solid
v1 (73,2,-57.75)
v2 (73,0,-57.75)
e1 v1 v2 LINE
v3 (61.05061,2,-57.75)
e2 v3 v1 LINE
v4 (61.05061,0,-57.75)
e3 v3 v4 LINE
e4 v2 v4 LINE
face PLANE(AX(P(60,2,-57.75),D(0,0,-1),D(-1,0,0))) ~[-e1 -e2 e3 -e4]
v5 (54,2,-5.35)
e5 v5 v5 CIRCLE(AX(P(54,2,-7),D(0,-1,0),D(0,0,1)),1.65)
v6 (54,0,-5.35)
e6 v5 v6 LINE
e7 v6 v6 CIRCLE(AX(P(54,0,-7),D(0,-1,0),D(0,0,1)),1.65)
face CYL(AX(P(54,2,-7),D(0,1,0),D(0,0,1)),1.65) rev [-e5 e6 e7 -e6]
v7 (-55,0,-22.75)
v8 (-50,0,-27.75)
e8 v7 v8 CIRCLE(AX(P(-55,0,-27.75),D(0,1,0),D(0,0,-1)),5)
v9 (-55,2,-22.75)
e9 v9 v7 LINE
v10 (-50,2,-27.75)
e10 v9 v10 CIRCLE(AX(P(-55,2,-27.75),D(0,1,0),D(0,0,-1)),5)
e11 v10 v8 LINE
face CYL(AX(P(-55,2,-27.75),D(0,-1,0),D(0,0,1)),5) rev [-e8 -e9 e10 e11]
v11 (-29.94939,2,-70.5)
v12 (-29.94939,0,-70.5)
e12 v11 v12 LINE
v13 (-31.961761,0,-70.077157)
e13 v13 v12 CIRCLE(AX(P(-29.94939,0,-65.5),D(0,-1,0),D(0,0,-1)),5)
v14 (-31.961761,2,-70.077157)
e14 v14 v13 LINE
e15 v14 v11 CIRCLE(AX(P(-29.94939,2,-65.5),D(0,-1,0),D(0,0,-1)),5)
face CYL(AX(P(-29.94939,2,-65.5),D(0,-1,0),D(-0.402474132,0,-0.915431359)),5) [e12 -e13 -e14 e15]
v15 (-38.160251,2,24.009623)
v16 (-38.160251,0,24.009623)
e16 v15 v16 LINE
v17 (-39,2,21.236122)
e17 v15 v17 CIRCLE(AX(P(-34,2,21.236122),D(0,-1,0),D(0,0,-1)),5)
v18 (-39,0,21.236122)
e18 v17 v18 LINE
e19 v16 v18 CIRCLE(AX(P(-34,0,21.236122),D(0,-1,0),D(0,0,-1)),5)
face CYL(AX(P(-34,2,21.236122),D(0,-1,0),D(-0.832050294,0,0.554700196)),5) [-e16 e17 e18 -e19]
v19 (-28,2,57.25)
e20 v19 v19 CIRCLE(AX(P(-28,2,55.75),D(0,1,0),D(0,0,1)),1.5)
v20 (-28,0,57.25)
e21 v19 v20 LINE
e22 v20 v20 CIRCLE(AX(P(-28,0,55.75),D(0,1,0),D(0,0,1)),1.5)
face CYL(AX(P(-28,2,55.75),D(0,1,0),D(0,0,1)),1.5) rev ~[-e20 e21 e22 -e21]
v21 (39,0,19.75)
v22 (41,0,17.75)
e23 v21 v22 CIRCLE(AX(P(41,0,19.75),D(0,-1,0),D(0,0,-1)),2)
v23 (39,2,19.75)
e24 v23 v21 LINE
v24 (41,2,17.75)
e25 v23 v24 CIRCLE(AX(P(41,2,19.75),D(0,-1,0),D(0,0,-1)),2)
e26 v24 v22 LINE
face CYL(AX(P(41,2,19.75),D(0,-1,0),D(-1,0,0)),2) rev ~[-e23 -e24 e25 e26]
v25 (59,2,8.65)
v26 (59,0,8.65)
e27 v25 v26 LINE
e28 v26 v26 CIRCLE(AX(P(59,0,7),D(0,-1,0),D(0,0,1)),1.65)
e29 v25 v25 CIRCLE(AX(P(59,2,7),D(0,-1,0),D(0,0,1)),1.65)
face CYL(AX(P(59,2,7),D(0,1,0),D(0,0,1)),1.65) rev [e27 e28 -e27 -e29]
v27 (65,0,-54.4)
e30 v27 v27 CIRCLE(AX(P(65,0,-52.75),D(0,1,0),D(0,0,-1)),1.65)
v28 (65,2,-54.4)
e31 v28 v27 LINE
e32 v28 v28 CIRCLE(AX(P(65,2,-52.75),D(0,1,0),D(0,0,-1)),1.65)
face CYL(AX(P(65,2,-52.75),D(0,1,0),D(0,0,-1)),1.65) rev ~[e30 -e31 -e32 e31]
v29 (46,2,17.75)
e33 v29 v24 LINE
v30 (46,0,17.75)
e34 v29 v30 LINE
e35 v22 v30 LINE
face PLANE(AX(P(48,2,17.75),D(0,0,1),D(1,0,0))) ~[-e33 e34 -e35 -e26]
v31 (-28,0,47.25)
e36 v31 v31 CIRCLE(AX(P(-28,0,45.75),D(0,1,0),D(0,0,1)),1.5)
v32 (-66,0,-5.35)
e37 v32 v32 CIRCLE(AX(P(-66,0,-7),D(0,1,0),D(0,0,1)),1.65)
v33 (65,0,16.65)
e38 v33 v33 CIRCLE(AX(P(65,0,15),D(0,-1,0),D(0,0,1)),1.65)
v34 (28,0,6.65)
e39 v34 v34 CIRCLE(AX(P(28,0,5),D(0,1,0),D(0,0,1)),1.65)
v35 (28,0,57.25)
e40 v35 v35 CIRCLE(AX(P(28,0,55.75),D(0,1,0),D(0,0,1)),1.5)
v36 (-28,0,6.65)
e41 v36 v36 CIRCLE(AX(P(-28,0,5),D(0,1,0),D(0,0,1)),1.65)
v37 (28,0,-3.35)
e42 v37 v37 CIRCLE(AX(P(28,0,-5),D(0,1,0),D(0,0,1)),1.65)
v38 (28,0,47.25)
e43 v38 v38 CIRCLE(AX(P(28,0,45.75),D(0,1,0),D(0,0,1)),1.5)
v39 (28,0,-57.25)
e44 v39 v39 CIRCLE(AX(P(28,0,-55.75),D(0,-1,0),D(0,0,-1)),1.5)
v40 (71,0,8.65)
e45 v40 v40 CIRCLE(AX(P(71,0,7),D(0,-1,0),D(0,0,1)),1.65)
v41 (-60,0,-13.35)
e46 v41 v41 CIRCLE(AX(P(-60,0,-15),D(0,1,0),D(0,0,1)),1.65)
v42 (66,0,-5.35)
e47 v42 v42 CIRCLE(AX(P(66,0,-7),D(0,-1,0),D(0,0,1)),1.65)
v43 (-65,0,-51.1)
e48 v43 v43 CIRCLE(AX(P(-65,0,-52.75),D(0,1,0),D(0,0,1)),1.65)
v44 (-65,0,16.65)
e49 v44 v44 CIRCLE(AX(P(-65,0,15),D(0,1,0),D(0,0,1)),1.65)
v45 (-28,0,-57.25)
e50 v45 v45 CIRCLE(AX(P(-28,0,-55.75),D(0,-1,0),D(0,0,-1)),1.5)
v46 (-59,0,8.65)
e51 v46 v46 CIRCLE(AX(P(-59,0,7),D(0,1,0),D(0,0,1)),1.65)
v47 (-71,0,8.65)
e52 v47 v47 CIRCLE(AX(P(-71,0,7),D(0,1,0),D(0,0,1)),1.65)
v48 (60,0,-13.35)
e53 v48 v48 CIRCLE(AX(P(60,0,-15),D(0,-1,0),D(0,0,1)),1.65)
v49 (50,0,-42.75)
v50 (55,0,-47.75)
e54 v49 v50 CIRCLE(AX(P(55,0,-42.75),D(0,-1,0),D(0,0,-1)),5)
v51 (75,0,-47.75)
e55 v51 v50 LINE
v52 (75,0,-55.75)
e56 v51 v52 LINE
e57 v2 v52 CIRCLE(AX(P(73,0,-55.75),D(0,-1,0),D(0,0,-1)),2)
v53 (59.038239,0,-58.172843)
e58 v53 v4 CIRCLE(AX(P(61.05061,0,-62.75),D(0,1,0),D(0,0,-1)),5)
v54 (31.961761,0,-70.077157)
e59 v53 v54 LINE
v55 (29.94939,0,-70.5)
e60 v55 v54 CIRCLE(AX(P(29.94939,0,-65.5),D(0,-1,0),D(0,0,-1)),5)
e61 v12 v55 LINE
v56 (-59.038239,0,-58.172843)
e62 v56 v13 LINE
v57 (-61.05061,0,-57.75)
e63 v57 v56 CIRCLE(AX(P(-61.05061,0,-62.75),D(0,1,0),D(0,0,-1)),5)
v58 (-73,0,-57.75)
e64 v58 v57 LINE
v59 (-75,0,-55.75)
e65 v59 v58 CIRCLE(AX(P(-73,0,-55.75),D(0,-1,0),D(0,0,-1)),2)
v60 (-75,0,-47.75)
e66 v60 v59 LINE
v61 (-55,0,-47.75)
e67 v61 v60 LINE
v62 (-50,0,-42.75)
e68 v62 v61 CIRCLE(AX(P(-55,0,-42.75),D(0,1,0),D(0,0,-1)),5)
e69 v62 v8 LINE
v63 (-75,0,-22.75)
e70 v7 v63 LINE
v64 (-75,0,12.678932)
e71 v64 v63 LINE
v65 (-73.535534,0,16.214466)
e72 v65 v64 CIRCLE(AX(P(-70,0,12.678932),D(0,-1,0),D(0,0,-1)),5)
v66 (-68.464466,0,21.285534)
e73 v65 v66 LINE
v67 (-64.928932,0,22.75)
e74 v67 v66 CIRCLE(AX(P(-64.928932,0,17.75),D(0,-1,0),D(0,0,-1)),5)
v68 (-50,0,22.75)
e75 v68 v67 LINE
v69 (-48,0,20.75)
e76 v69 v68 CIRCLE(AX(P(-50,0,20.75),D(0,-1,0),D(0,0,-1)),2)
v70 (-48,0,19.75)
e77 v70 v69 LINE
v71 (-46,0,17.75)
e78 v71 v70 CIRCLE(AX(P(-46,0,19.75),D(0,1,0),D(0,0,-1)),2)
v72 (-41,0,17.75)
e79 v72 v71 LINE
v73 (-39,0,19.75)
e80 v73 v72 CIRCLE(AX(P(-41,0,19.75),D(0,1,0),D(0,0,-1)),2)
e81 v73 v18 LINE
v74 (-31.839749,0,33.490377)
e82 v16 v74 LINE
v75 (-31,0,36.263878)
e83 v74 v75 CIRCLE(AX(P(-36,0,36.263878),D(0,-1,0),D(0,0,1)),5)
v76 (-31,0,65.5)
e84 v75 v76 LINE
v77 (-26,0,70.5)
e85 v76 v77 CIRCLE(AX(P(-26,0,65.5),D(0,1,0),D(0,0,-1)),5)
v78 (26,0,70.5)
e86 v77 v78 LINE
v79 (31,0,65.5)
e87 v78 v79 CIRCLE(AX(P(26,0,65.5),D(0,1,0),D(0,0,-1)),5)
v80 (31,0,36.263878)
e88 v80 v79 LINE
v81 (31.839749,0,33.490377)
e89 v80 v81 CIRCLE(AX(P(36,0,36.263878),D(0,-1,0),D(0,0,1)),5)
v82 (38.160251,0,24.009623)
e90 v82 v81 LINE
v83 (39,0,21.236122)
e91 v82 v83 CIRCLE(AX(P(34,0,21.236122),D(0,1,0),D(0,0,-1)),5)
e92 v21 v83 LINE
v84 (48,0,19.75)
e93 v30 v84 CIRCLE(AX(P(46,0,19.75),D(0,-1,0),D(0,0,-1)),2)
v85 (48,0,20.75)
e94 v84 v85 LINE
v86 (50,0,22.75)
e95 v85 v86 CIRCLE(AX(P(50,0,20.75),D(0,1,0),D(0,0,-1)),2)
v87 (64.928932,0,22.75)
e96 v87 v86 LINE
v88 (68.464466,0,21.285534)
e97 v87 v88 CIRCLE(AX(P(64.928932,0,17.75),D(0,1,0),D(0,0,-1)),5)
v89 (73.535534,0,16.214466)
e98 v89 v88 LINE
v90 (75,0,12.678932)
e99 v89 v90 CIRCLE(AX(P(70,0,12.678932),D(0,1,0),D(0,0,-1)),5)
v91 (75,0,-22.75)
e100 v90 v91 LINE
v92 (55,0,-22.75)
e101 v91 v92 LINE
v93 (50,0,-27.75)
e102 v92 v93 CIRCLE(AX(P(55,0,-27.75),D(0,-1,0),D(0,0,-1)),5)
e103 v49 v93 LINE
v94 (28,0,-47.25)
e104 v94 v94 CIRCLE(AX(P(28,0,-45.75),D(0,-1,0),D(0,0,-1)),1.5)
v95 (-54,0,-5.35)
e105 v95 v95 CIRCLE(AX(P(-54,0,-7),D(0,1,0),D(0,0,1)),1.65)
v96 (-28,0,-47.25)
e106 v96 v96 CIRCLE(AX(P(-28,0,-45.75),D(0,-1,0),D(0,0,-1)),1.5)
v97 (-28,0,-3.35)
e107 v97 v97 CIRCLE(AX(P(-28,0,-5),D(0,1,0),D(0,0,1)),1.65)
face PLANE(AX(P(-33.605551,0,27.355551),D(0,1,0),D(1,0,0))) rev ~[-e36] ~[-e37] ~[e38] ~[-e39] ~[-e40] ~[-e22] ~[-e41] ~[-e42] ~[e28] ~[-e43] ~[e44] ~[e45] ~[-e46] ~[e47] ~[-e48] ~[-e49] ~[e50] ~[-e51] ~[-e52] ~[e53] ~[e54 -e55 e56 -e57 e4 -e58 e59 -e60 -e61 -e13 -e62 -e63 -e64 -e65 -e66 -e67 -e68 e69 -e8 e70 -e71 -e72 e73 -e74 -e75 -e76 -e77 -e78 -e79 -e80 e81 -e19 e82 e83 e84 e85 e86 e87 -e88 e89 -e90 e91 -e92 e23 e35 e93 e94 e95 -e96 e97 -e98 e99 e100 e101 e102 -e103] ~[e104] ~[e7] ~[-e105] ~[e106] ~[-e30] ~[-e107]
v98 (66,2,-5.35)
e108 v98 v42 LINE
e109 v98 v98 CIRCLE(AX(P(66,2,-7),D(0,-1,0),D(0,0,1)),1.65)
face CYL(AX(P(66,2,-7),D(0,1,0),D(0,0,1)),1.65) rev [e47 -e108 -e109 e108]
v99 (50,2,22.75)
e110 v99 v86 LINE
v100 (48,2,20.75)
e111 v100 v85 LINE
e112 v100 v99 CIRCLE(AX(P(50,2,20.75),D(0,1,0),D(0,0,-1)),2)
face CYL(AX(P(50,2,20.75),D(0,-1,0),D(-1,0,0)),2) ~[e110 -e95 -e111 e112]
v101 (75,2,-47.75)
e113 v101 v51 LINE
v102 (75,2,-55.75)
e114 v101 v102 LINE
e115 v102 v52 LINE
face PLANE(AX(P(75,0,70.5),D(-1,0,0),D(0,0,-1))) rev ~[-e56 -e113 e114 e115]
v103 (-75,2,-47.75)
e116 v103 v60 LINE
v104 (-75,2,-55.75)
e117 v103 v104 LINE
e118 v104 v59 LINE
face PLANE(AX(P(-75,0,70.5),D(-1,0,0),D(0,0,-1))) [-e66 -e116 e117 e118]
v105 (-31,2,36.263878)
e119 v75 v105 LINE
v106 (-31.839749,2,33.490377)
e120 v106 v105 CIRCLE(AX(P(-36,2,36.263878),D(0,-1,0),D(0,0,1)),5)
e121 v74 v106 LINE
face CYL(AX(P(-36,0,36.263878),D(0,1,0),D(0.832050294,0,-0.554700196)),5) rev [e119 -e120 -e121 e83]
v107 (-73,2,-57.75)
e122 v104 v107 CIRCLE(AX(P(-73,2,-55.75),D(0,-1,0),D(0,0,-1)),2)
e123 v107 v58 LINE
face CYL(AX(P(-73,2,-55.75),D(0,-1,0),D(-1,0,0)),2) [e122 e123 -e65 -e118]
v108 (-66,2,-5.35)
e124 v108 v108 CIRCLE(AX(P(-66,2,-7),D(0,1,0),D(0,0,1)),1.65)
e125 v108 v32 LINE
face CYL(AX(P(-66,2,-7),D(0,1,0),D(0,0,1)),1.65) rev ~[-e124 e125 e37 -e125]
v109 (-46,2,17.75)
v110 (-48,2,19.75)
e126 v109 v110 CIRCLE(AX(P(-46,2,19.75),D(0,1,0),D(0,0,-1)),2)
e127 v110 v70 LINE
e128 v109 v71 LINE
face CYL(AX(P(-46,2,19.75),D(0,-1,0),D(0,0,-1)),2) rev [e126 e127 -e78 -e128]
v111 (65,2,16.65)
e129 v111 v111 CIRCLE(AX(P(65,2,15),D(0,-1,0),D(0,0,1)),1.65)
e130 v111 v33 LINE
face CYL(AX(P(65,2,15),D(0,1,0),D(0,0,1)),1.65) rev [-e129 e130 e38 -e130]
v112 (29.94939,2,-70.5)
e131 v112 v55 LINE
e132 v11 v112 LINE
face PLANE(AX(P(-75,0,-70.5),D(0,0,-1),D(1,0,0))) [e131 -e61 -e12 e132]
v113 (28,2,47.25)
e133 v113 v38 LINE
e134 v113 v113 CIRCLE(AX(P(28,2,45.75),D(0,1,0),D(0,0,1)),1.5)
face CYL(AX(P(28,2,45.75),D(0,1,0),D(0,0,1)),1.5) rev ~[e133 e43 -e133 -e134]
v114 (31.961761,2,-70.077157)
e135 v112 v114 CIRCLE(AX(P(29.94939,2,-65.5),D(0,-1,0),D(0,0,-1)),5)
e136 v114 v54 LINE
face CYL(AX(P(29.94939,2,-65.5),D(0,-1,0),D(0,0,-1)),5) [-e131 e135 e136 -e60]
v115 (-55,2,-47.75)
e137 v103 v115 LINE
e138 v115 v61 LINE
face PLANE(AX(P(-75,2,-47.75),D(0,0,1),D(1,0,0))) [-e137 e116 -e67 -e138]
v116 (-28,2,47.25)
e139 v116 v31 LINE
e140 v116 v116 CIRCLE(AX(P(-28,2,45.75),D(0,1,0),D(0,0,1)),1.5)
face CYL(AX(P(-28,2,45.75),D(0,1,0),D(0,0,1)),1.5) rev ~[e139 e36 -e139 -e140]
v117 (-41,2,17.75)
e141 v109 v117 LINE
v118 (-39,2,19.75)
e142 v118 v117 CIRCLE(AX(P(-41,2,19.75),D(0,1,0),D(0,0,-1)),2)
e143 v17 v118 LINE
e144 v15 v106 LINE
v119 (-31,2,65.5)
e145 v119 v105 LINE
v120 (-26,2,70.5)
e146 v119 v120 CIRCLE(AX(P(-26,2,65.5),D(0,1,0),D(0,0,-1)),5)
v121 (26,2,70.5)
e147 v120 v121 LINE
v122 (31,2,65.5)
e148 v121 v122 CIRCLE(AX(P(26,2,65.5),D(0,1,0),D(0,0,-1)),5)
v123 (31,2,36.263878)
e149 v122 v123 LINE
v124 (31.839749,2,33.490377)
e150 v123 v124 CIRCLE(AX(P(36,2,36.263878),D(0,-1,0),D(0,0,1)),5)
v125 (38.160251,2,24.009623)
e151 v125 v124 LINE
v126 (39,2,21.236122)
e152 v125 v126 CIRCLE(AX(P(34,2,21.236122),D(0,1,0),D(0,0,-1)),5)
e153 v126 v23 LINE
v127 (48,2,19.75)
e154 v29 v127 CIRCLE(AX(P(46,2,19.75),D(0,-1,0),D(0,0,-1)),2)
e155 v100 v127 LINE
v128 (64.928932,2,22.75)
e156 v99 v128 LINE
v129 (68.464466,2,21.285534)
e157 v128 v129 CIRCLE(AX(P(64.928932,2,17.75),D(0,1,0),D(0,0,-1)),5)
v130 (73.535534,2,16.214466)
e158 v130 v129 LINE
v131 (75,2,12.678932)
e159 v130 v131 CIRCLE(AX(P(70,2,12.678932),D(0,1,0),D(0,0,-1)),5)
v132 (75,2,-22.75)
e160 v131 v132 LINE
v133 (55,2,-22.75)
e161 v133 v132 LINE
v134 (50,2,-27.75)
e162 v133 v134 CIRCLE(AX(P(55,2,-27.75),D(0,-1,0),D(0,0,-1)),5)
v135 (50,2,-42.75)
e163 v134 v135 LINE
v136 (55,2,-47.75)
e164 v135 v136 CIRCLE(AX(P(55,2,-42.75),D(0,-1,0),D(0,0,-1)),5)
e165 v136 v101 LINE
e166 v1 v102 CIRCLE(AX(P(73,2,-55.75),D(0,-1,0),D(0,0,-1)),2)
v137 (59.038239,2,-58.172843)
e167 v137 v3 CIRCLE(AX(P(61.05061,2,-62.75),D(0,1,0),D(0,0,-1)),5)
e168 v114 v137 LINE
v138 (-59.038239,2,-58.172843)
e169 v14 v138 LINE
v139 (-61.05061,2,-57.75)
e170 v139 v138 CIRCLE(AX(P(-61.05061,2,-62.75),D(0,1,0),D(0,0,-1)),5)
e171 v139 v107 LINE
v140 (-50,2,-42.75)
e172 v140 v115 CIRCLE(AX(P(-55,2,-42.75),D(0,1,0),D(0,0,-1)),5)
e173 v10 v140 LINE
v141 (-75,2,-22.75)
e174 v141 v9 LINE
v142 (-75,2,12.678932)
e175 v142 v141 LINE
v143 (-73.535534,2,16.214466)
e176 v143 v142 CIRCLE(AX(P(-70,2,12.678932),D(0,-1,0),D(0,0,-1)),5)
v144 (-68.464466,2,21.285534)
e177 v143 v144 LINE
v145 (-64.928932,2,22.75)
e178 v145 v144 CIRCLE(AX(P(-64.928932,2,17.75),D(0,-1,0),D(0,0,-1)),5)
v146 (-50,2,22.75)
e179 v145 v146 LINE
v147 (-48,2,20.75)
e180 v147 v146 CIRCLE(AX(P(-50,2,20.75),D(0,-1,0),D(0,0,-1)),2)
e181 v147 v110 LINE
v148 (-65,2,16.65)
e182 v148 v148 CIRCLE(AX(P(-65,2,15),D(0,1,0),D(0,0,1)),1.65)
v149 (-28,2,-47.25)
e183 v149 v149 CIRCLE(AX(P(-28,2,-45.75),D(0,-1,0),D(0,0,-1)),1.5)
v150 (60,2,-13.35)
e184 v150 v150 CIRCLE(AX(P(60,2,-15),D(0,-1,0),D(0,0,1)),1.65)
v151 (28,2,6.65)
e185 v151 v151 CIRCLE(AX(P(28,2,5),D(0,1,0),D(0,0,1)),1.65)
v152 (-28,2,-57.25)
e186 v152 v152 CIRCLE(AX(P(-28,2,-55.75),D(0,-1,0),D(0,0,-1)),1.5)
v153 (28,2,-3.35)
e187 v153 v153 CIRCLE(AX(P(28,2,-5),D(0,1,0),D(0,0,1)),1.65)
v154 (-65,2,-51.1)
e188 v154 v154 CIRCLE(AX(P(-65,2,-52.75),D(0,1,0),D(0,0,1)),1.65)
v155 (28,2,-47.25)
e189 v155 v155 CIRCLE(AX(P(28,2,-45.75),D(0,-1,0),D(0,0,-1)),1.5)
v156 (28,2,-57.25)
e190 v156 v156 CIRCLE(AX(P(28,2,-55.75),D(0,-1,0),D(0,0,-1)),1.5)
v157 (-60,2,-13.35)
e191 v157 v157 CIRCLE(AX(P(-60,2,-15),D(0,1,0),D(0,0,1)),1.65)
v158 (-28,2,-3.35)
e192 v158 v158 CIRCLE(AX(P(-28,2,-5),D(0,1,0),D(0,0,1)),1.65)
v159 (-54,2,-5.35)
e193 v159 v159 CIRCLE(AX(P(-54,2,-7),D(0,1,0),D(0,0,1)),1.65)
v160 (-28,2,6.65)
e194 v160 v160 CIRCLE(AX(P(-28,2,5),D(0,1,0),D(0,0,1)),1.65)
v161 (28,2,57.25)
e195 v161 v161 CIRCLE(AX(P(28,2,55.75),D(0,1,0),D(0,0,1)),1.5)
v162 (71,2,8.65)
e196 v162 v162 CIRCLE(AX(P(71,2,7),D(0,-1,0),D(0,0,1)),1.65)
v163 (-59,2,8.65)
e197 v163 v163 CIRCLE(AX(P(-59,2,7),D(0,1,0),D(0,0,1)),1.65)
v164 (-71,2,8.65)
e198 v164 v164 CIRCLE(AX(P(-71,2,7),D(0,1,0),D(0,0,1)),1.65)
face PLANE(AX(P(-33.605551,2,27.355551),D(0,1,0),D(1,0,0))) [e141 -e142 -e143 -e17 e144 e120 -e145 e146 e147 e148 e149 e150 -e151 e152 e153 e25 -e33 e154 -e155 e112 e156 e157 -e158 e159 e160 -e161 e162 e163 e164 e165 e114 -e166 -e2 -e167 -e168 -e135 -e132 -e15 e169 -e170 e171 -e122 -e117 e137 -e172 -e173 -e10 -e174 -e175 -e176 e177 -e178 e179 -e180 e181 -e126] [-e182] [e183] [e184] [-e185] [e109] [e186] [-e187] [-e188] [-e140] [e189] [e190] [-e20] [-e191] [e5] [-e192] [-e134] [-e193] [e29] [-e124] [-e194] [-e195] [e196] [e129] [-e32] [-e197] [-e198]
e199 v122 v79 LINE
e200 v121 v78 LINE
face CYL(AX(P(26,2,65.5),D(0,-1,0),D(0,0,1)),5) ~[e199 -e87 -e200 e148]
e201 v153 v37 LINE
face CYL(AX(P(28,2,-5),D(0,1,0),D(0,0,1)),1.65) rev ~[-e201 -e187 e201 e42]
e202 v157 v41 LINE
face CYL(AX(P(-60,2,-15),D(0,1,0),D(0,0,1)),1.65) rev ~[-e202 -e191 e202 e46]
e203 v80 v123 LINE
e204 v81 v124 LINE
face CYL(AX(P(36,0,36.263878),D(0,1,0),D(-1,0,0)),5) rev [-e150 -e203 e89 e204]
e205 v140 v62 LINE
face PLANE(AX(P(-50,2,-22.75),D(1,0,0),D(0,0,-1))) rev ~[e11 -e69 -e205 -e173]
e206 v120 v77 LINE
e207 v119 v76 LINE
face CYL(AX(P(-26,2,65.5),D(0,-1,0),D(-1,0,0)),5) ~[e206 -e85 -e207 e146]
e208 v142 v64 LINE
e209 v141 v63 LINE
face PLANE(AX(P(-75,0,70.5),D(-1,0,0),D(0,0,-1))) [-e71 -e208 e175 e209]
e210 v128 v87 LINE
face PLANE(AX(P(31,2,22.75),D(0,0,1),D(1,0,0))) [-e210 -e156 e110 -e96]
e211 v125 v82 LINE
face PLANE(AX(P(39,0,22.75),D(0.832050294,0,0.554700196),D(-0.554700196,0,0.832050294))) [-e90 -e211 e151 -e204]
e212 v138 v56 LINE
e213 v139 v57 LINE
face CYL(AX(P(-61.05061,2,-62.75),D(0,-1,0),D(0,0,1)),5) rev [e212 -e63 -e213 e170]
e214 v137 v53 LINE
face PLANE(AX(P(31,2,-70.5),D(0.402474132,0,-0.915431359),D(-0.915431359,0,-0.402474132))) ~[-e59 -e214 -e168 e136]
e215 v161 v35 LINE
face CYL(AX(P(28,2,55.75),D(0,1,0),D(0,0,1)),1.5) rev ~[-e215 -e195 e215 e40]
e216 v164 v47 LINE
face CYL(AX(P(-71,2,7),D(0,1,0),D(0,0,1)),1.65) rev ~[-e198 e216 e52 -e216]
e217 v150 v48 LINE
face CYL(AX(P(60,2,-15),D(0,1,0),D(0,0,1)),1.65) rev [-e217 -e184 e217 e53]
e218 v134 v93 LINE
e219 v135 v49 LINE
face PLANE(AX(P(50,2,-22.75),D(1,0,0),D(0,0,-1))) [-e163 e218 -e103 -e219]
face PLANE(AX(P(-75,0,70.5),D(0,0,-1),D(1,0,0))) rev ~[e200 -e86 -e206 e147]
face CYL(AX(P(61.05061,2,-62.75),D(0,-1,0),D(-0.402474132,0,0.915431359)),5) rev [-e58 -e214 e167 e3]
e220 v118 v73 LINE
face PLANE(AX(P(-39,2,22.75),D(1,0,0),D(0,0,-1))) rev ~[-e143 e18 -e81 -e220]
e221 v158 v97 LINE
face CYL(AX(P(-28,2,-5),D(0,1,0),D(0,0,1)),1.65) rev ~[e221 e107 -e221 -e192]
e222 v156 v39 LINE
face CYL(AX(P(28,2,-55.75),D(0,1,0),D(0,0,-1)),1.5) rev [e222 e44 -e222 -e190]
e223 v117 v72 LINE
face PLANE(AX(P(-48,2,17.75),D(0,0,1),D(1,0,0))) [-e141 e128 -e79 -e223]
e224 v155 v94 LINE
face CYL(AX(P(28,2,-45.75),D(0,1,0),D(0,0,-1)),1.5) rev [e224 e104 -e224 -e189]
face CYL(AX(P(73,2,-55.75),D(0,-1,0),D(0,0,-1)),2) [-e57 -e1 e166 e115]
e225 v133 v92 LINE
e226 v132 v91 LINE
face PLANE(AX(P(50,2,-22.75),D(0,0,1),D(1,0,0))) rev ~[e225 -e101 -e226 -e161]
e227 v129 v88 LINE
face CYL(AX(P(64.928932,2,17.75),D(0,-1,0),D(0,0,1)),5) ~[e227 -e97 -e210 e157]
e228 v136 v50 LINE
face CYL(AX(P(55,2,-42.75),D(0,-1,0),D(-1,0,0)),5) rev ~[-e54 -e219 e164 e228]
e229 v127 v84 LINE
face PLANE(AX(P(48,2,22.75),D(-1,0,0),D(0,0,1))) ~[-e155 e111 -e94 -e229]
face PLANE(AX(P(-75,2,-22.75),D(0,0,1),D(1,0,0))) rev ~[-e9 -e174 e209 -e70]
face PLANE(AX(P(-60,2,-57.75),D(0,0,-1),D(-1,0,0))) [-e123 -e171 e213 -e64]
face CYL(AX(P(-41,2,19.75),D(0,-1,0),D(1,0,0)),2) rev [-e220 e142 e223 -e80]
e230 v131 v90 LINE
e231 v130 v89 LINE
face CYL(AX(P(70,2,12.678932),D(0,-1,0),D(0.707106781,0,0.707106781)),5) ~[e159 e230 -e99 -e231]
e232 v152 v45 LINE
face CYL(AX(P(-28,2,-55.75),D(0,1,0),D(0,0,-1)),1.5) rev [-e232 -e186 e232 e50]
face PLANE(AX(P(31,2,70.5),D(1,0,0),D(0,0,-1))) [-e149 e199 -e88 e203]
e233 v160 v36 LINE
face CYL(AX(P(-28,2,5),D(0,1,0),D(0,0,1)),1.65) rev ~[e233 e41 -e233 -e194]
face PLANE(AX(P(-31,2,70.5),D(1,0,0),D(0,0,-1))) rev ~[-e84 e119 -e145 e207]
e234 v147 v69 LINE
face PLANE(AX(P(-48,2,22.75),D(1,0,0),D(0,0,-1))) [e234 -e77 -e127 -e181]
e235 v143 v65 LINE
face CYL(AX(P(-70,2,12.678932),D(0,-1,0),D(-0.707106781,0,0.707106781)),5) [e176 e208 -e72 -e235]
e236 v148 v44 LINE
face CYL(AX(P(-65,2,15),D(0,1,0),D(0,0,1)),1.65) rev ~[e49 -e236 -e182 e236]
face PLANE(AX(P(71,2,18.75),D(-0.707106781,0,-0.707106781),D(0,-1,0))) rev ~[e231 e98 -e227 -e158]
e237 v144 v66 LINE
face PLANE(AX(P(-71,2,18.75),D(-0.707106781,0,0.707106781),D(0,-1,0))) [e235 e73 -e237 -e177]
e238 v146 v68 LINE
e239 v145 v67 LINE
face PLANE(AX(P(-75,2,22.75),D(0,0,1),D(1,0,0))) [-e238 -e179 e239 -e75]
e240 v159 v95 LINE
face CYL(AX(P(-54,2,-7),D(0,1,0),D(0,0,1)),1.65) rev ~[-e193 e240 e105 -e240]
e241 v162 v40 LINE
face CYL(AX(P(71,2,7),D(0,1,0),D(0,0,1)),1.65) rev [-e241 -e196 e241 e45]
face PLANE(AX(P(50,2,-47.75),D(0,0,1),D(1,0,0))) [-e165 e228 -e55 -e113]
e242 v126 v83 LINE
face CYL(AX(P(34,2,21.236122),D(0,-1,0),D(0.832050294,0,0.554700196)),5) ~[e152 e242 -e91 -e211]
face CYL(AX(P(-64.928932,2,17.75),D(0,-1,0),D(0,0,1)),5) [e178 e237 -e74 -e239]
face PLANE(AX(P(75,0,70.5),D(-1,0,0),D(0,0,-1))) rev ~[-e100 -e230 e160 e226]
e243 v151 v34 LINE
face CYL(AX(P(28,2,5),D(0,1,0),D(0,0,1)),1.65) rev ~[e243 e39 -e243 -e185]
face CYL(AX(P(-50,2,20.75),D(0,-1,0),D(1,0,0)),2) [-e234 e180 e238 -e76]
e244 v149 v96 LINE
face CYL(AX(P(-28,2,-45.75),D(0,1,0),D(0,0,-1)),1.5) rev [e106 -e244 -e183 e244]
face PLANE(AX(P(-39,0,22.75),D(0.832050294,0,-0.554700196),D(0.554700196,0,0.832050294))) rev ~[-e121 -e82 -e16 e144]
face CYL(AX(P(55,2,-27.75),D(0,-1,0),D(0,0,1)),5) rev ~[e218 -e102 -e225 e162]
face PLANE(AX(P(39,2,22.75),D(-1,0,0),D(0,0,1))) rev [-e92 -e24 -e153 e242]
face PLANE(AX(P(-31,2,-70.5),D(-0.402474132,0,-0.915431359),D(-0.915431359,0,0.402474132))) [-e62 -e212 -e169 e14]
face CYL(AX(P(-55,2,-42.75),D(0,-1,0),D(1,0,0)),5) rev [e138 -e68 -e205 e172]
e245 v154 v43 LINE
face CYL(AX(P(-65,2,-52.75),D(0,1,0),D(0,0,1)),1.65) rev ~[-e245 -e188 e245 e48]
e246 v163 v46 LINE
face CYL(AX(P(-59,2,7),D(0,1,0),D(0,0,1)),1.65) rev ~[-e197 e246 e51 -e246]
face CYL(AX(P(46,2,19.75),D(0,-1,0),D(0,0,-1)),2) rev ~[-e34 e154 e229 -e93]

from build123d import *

# Parameters (mm, degrees)
SKETCH_1_W          = 150
SKETCH_1_H          = 141
EXTRUDE_1_DEPTH     = 2
CUT_EXTRUDE_1_REACH = 104.953
SKETCH_2_R          = 1.65
CUT_EXTRUDE_5_REACH = 104.953
SKETCH_9_W          = 44
SKETCH_9_H          = 47.75
CUT_EXTRUDE_2_REACH = 104.953
SKETCH_4_W          = 9
SKETCH_4_H          = 5
CUT_EXTRUDE_6_REACH = 104.953
CHAMFER_1_SIZE      = 8
CUT_EXTRUDE_3_REACH = 104.953
SKETCH_5_R          = 1.65
EXTRUDE_4_DEPTH     = 2
CUT_EXTRUDE_4_REACH = 104.953
SKETCH_8_R          = 1.5
CUT_EXTRUDE_7_REACH = 104.953
SKETCH_11_W         = 25
SKETCH_11_H         = 25
FILLET_5_R          = 5
FILLET_6_R          = 2
CUT_EXTRUDE_8_REACH = 104.953
SKETCH_12_R         = 1.65
FILLET_7_R          = 2


with BuildPart() as part:
    # 草图1 → 凸台-拉伸1 (new body)
    with BuildSketch(Plane(origin=(0, 0, 0), x_dir=(1, 0, 0), z_dir=(0, 1, 0))):
        Rectangle(SKETCH_1_W, SKETCH_1_H)
    extrude(amount=EXTRUDE_1_DEPTH)

    # 草图2 → 切除-拉伸1 (cut, up to next)
    with BuildSketch(Plane(origin=(0, 2, 0), x_dir=(1, 0, 0), z_dir=(0, 1, 0)), mode=Mode.PRIVATE) as cut_extrude_1_sk1:
        with Locations(Location((-60, 15, 0), (0, 0, 270))):
            Circle(SKETCH_2_R)
    cut_extrude_1_tool1 = extrude(cut_extrude_1_sk1.sketch, amount=-CUT_EXTRUDE_1_REACH, mode=Mode.PRIVATE) & part.part
    # 草图2 → 切除-拉伸1 (cut, up to next)
    with BuildSketch(Plane(origin=(0, 2, 0), x_dir=(1, 0, 0), z_dir=(0, 1, 0)), mode=Mode.PRIVATE) as cut_extrude_1_sk2:
        with Locations(Location((-66, 7, 0), (0, 0, 270))):
            Circle(SKETCH_2_R)
    cut_extrude_1_tool2 = extrude(cut_extrude_1_sk2.sketch, amount=-CUT_EXTRUDE_1_REACH, mode=Mode.PRIVATE) & part.part
    # 草图2 → 切除-拉伸1 (cut, up to next)
    with BuildSketch(Plane(origin=(0, 2, 0), x_dir=(1, 0, 0), z_dir=(0, 1, 0)), mode=Mode.PRIVATE) as cut_extrude_1_sk3:
        with Locations(Location((-54, 7, 0), (0, 0, 270))):
            Circle(SKETCH_2_R)
    cut_extrude_1_tool3 = extrude(cut_extrude_1_sk3.sketch, amount=-CUT_EXTRUDE_1_REACH, mode=Mode.PRIVATE) & part.part
    # 草图2 → 切除-拉伸1 (cut, up to next)
    with BuildSketch(Plane(origin=(0, 2, 0), x_dir=(1, 0, 0), z_dir=(0, 1, 0)), mode=Mode.PRIVATE) as cut_extrude_1_sk4:
        with Locations(Location((-71, -7, 0), (0, 0, 270))):
            Circle(SKETCH_2_R)
    cut_extrude_1_tool4 = extrude(cut_extrude_1_sk4.sketch, amount=-CUT_EXTRUDE_1_REACH, mode=Mode.PRIVATE) & part.part
    # 草图2 → 切除-拉伸1 (cut, up to next)
    with BuildSketch(Plane(origin=(0, 2, 0), x_dir=(1, 0, 0), z_dir=(0, 1, 0)), mode=Mode.PRIVATE) as cut_extrude_1_sk5:
        with Locations(Location((-59, -7, 0), (0, 0, 270))):
            Circle(SKETCH_2_R)
    cut_extrude_1_tool5 = extrude(cut_extrude_1_sk5.sketch, amount=-CUT_EXTRUDE_1_REACH, mode=Mode.PRIVATE) & part.part
    # 草图2 → 切除-拉伸1 (cut, up to next)
    with BuildSketch(Plane(origin=(0, 2, 0), x_dir=(1, 0, 0), z_dir=(0, 1, 0)), mode=Mode.PRIVATE) as cut_extrude_1_sk6:
        with Locations(Location((-65, -15, 0), (0, 0, 270))):
            Circle(SKETCH_2_R)
    cut_extrude_1_tool6 = extrude(cut_extrude_1_sk6.sketch, amount=-CUT_EXTRUDE_1_REACH, mode=Mode.PRIVATE) & part.part
    cut_extrude_1_1 = cut_extrude_1_tool1.solids().sort_by_distance((-60, 2, -15))[0]
    add(cut_extrude_1_1, mode=Mode.SUBTRACT)
    cut_extrude_1_2 = cut_extrude_1_tool2.solids().sort_by_distance((-66, 2, -7))[0]
    add(cut_extrude_1_2, mode=Mode.SUBTRACT)
    cut_extrude_1_3 = cut_extrude_1_tool3.solids().sort_by_distance((-54, 2, -7))[0]
    add(cut_extrude_1_3, mode=Mode.SUBTRACT)
    cut_extrude_1_4 = cut_extrude_1_tool4.solids().sort_by_distance((-71, 2, 7))[0]
    add(cut_extrude_1_4, mode=Mode.SUBTRACT)
    cut_extrude_1_5 = cut_extrude_1_tool5.solids().sort_by_distance((-59, 2, 7))[0]
    add(cut_extrude_1_5, mode=Mode.SUBTRACT)
    cut_extrude_1_6 = cut_extrude_1_tool6.solids().sort_by_distance((-65, 2, 15))[0]
    add(cut_extrude_1_6, mode=Mode.SUBTRACT)
    cut_extrude_1 = cut_extrude_1_1 + cut_extrude_1_2 + cut_extrude_1_3 + cut_extrude_1_4 + cut_extrude_1_5 + cut_extrude_1_6  # 切除-拉伸1 as one shape, for the pattern or mirror that repeats it

    # 草图9 → 切除-拉伸5 (cut, up to next)
    with BuildSketch(Plane(origin=(0, 2, 0), x_dir=(1, 0, 0), z_dir=(0, 1, 0)), mode=Mode.PRIVATE) as cut_extrude_5_sk1:
        with Locations((-53, -46.625)):
            Rectangle(SKETCH_9_W, SKETCH_9_H)
    cut_extrude_5_tool1 = extrude(cut_extrude_5_sk1.sketch, amount=-CUT_EXTRUDE_5_REACH, mode=Mode.PRIVATE) & part.part
    # 草图9 → 切除-拉伸5 (cut, up to next)
    with BuildSketch(Plane(origin=(0, 2, 0), x_dir=(1, 0, 0), z_dir=(0, 1, 0)), mode=Mode.PRIVATE) as cut_extrude_5_sk2:
        with Locations((53, -46.625)):
            Rectangle(SKETCH_9_W, SKETCH_9_H)
    cut_extrude_5_tool2 = extrude(cut_extrude_5_sk2.sketch, amount=-CUT_EXTRUDE_5_REACH, mode=Mode.PRIVATE) & part.part
    add(cut_extrude_5_tool1.solids().sort_by_distance((-53, 2, 46.625))[0], mode=Mode.SUBTRACT)
    add(cut_extrude_5_tool2.solids().sort_by_distance((53, 2, 46.625))[0], mode=Mode.SUBTRACT)

    # 草图4 → 切除-拉伸2 (cut, up to next)
    with BuildSketch(Plane(origin=(0, 2, 0), x_dir=(1, 0, 0), z_dir=(0, 1, 0)), mode=Mode.PRIVATE) as cut_extrude_2_sk1:
        with Locations((-43.5, -20.25)):
            Rectangle(SKETCH_4_W, SKETCH_4_H)
    cut_extrude_2_tool1 = extrude(cut_extrude_2_sk1.sketch, amount=-CUT_EXTRUDE_2_REACH, mode=Mode.PRIVATE) & part.part
    cut_extrude_2 = cut_extrude_2_tool1.solids().sort_by_distance((-43.5, 2, 20.25))[0]
    add(cut_extrude_2, mode=Mode.SUBTRACT)

    # 草图10 → 切除-拉伸6 (cut, up to next)
    with BuildSketch(Plane(origin=(0, 2, 0), x_dir=(1, 0, 0), z_dir=(0, 1, 0)), mode=Mode.PRIVATE) as cut_extrude_6_sk1:
        Polygon((-75, 70.5), (-31, 70.5), (-60, 57.75), (-75, 57.75), align=None)
    cut_extrude_6_tool1 = extrude(cut_extrude_6_sk1.sketch, amount=-CUT_EXTRUDE_6_REACH, mode=Mode.PRIVATE) & part.part
    cut_extrude_6 = cut_extrude_6_tool1.solids().sort_by_distance((-59.062147, 2, -65.169492))[0]
    add(cut_extrude_6, mode=Mode.SUBTRACT)

    # 镜向1: 切除-拉伸1, 切除-拉伸2, 切除-拉伸6 across plane
    add(cut_extrude_1.mirror(Plane(origin=(0, 0, 0), x_dir=(0, 0, 1), z_dir=(1, 0, 0))), mode=Mode.SUBTRACT)
    add(cut_extrude_2.mirror(Plane(origin=(0, 0, 0), x_dir=(0, 0, 1), z_dir=(1, 0, 0))), mode=Mode.SUBTRACT)
    add(cut_extrude_6.mirror(Plane(origin=(0, 0, 0), x_dir=(0, 0, 1), z_dir=(1, 0, 0))), mode=Mode.SUBTRACT)

    # 倒角1
    chamfer_1_edges = [part.edges().sort_by_distance(p)[0] for p in [
        (-75, 1, 22.75),
        (75, 1, 22.75),
    ]]
    chamfer(chamfer_1_edges, length=CHAMFER_1_SIZE)

    # 草图5 → 切除-拉伸3 (cut, up to next)
    with BuildSketch(Plane(origin=(0, 2, 0), x_dir=(1, 0, 0), z_dir=(0, 1, 0)), mode=Mode.PRIVATE) as cut_extrude_3_sk1:
        with Locations(Location((-28, 5, 0), (0, 0, 270))):
            Circle(SKETCH_5_R)
    cut_extrude_3_tool1 = extrude(cut_extrude_3_sk1.sketch, amount=-CUT_EXTRUDE_3_REACH, mode=Mode.PRIVATE) & part.part
    # 草图5 → 切除-拉伸3 (cut, up to next)
    with BuildSketch(Plane(origin=(0, 2, 0), x_dir=(1, 0, 0), z_dir=(0, 1, 0)), mode=Mode.PRIVATE) as cut_extrude_3_sk2:
        with Locations(Location((-28, -5, 0), (0, 0, 270))):
            Circle(SKETCH_5_R)
    cut_extrude_3_tool2 = extrude(cut_extrude_3_sk2.sketch, amount=-CUT_EXTRUDE_3_REACH, mode=Mode.PRIVATE) & part.part
    # 草图5 → 切除-拉伸3 (cut, up to next)
    with BuildSketch(Plane(origin=(0, 2, 0), x_dir=(1, 0, 0), z_dir=(0, 1, 0)), mode=Mode.PRIVATE) as cut_extrude_3_sk3:
        with Locations(Location((28, -5, 0), (0, 0, 270))):
            Circle(SKETCH_5_R)
    cut_extrude_3_tool3 = extrude(cut_extrude_3_sk3.sketch, amount=-CUT_EXTRUDE_3_REACH, mode=Mode.PRIVATE) & part.part
    # 草图5 → 切除-拉伸3 (cut, up to next)
    with BuildSketch(Plane(origin=(0, 2, 0), x_dir=(1, 0, 0), z_dir=(0, 1, 0)), mode=Mode.PRIVATE) as cut_extrude_3_sk4:
        with Locations(Location((28, 5, 0), (0, 0, 270))):
            Circle(SKETCH_5_R)
    cut_extrude_3_tool4 = extrude(cut_extrude_3_sk4.sketch, amount=-CUT_EXTRUDE_3_REACH, mode=Mode.PRIVATE) & part.part
    add(cut_extrude_3_tool1.solids().sort_by_distance((-28, 2, -5))[0], mode=Mode.SUBTRACT)
    add(cut_extrude_3_tool2.solids().sort_by_distance((-28, 2, 5))[0], mode=Mode.SUBTRACT)
    add(cut_extrude_3_tool3.solids().sort_by_distance((28, 2, 5))[0], mode=Mode.SUBTRACT)
    add(cut_extrude_3_tool4.solids().sort_by_distance((28, 2, -5))[0], mode=Mode.SUBTRACT)

    # 草图7 → 凸台-拉伸4 (add)
    with BuildSketch(Plane(origin=(0, 0, 0), x_dir=(1, 0, 0), z_dir=(0, 1, 0))):
        Polygon((-39, -22.75), (-31, -34.75), (-31, -22.75), align=None)
        Polygon((31, -22.75), (39, -22.75), (31, -34.75), align=None)
    extrude(amount=EXTRUDE_4_DEPTH)

    # 草图8 → 切除-拉伸4 (cut, up to next)
    with BuildSketch(Plane(origin=(0, 2, 0), x_dir=(1, 0, 0), z_dir=(0, 1, 0)), mode=Mode.PRIVATE) as cut_extrude_4_sk1:
        with Locations(Location((-28, -45.75, 0), (0, 0, 270))):
            Circle(SKETCH_8_R)
    cut_extrude_4_tool1 = extrude(cut_extrude_4_sk1.sketch, amount=-CUT_EXTRUDE_4_REACH, mode=Mode.PRIVATE) & part.part
    # 草图8 → 切除-拉伸4 (cut, up to next)
    with BuildSketch(Plane(origin=(0, 2, 0), x_dir=(1, 0, 0), z_dir=(0, 1, 0)), mode=Mode.PRIVATE) as cut_extrude_4_sk2:
        with Locations(Location((-28, -55.75, 0), (0, 0, 270))):
            Circle(SKETCH_8_R)
    cut_extrude_4_tool2 = extrude(cut_extrude_4_sk2.sketch, amount=-CUT_EXTRUDE_4_REACH, mode=Mode.PRIVATE) & part.part
    # 草图8 → 切除-拉伸4 (cut, up to next)
    with BuildSketch(Plane(origin=(0, 2, 0), x_dir=(1, 0, 0), z_dir=(0, 1, 0)), mode=Mode.PRIVATE) as cut_extrude_4_sk3:
        with Locations(Location((28, -45.75, 0), (0, 0, 270))):
            Circle(SKETCH_8_R)
    cut_extrude_4_tool3 = extrude(cut_extrude_4_sk3.sketch, amount=-CUT_EXTRUDE_4_REACH, mode=Mode.PRIVATE) & part.part
    # 草图8 → 切除-拉伸4 (cut, up to next)
    with BuildSketch(Plane(origin=(0, 2, 0), x_dir=(1, 0, 0), z_dir=(0, 1, 0)), mode=Mode.PRIVATE) as cut_extrude_4_sk4:
        with Locations(Location((28, -55.75, 0), (0, 0, 270))):
            Circle(SKETCH_8_R)
    cut_extrude_4_tool4 = extrude(cut_extrude_4_sk4.sketch, amount=-CUT_EXTRUDE_4_REACH, mode=Mode.PRIVATE) & part.part
    cut_extrude_4_1 = cut_extrude_4_tool1.solids().sort_by_distance((-28, 2, 45.75))[0]
    add(cut_extrude_4_1, mode=Mode.SUBTRACT)
    cut_extrude_4_2 = cut_extrude_4_tool2.solids().sort_by_distance((-28, 2, 55.75))[0]
    add(cut_extrude_4_2, mode=Mode.SUBTRACT)
    cut_extrude_4_3 = cut_extrude_4_tool3.solids().sort_by_distance((28, 2, 45.75))[0]
    add(cut_extrude_4_3, mode=Mode.SUBTRACT)
    cut_extrude_4_4 = cut_extrude_4_tool4.solids().sort_by_distance((28, 2, 55.75))[0]
    add(cut_extrude_4_4, mode=Mode.SUBTRACT)
    cut_extrude_4 = cut_extrude_4_1 + cut_extrude_4_2 + cut_extrude_4_3 + cut_extrude_4_4  # 切除-拉伸4 as one shape, for the pattern or mirror that repeats it

    # 草图11 → 切除-拉伸7 (cut, up to next)
    with BuildSketch(Plane(origin=(0, 2, 0), x_dir=(1, 0, 0), z_dir=(0, 1, 0)), mode=Mode.PRIVATE) as cut_extrude_7_sk1:
        with Locations((-62.5, 35.25)):
            Rectangle(SKETCH_11_W, SKETCH_11_H)
    cut_extrude_7_tool1 = extrude(cut_extrude_7_sk1.sketch, amount=-CUT_EXTRUDE_7_REACH, mode=Mode.PRIVATE) & part.part
    # 草图11 → 切除-拉伸7 (cut, up to next)
    with BuildSketch(Plane(origin=(0, 2, 0), x_dir=(1, 0, 0), z_dir=(0, 1, 0)), mode=Mode.PRIVATE) as cut_extrude_7_sk2:
        with Locations((62.5, 35.25)):
            Rectangle(SKETCH_11_W, SKETCH_11_H)
    cut_extrude_7_tool2 = extrude(cut_extrude_7_sk2.sketch, amount=-CUT_EXTRUDE_7_REACH, mode=Mode.PRIVATE) & part.part
    add(cut_extrude_7_tool1.solids().sort_by_distance((-62.5, 2, -35.25))[0], mode=Mode.SUBTRACT)
    add(cut_extrude_7_tool2.solids().sort_by_distance((62.5, 2, -35.25))[0], mode=Mode.SUBTRACT)

    # 镜向2: 切除-拉伸4 across plane
    add(cut_extrude_4.mirror(Plane.XY), mode=Mode.SUBTRACT)

    # 圆角5
    fillet_5_edges = [part.edges().sort_by_distance(p)[0] for p in [
        (39, 1, 22.75),
        (60, 1, -57.75),
        (31, 1, -70.5),
        (67, 1, 22.75),
        (75, 1, 14.75),
        (-75, 1, 14.75),
        (-67, 1, 22.75),
        (-31, 1, 34.75),
        (31, 1, 34.75),
        (-50, 1, -47.75),
        (-50, 1, -22.75),
        (50, 1, -22.75),
        (50, 1, -47.75),
        (-31, 1, 70.5),
        (31, 1, 70.5),
        (-39, 1, 22.75),
        (-31, 1, -70.5),
        (-60, 1, -57.75),
    ]]
    fillet(fillet_5_edges, radius=FILLET_5_R)

    # 圆角6
    fillet_6_edges = [part.edges().sort_by_distance(p)[0] for p in [
        (48, 1, 17.75),
        (48, 1, 22.75),
        (39, 1, 17.75),
        (-48, 1, 22.75),
        (-48, 1, 17.75),
        (-39, 1, 17.75),
    ]]
    fillet(fillet_6_edges, radius=FILLET_6_R)

    # 草图12 → 切除-拉伸8 (cut, up to next)
    with BuildSketch(Plane(origin=(0, 2, 0), x_dir=(1, 0, 0), z_dir=(0, 1, 0)), mode=Mode.PRIVATE) as cut_extrude_8_sk1:
        with Locations(Location((-65, 52.75, 0), (0, 0, 270))):
            Circle(SKETCH_12_R)
    cut_extrude_8_tool1 = extrude(cut_extrude_8_sk1.sketch, amount=-CUT_EXTRUDE_8_REACH, mode=Mode.PRIVATE) & part.part
    # 草图12 → 切除-拉伸8 (cut, up to next)
    with BuildSketch(Plane(origin=(0, 2, 0), x_dir=(1, 0, 0), z_dir=(0, 1, 0)), mode=Mode.PRIVATE) as cut_extrude_8_sk2:
        with Locations(Location((65, 52.75, 0), (0, 0, 90))):
            Circle(SKETCH_12_R)
    cut_extrude_8_tool2 = extrude(cut_extrude_8_sk2.sketch, amount=-CUT_EXTRUDE_8_REACH, mode=Mode.PRIVATE) & part.part
    add(cut_extrude_8_tool1.solids().sort_by_distance((-65, 2, -52.75))[0], mode=Mode.SUBTRACT)
    add(cut_extrude_8_tool2.solids().sort_by_distance((65, 2, -52.75))[0], mode=Mode.SUBTRACT)

    # 圆角7
    fillet_7_edges = [part.edges().sort_by_distance(p)[0] for p in [
        (75, 1, -57.75),
        (-75, 1, -57.75),
    ]]
    fillet(fillet_7_edges, radius=FILLET_7_R)


solid = part.part
